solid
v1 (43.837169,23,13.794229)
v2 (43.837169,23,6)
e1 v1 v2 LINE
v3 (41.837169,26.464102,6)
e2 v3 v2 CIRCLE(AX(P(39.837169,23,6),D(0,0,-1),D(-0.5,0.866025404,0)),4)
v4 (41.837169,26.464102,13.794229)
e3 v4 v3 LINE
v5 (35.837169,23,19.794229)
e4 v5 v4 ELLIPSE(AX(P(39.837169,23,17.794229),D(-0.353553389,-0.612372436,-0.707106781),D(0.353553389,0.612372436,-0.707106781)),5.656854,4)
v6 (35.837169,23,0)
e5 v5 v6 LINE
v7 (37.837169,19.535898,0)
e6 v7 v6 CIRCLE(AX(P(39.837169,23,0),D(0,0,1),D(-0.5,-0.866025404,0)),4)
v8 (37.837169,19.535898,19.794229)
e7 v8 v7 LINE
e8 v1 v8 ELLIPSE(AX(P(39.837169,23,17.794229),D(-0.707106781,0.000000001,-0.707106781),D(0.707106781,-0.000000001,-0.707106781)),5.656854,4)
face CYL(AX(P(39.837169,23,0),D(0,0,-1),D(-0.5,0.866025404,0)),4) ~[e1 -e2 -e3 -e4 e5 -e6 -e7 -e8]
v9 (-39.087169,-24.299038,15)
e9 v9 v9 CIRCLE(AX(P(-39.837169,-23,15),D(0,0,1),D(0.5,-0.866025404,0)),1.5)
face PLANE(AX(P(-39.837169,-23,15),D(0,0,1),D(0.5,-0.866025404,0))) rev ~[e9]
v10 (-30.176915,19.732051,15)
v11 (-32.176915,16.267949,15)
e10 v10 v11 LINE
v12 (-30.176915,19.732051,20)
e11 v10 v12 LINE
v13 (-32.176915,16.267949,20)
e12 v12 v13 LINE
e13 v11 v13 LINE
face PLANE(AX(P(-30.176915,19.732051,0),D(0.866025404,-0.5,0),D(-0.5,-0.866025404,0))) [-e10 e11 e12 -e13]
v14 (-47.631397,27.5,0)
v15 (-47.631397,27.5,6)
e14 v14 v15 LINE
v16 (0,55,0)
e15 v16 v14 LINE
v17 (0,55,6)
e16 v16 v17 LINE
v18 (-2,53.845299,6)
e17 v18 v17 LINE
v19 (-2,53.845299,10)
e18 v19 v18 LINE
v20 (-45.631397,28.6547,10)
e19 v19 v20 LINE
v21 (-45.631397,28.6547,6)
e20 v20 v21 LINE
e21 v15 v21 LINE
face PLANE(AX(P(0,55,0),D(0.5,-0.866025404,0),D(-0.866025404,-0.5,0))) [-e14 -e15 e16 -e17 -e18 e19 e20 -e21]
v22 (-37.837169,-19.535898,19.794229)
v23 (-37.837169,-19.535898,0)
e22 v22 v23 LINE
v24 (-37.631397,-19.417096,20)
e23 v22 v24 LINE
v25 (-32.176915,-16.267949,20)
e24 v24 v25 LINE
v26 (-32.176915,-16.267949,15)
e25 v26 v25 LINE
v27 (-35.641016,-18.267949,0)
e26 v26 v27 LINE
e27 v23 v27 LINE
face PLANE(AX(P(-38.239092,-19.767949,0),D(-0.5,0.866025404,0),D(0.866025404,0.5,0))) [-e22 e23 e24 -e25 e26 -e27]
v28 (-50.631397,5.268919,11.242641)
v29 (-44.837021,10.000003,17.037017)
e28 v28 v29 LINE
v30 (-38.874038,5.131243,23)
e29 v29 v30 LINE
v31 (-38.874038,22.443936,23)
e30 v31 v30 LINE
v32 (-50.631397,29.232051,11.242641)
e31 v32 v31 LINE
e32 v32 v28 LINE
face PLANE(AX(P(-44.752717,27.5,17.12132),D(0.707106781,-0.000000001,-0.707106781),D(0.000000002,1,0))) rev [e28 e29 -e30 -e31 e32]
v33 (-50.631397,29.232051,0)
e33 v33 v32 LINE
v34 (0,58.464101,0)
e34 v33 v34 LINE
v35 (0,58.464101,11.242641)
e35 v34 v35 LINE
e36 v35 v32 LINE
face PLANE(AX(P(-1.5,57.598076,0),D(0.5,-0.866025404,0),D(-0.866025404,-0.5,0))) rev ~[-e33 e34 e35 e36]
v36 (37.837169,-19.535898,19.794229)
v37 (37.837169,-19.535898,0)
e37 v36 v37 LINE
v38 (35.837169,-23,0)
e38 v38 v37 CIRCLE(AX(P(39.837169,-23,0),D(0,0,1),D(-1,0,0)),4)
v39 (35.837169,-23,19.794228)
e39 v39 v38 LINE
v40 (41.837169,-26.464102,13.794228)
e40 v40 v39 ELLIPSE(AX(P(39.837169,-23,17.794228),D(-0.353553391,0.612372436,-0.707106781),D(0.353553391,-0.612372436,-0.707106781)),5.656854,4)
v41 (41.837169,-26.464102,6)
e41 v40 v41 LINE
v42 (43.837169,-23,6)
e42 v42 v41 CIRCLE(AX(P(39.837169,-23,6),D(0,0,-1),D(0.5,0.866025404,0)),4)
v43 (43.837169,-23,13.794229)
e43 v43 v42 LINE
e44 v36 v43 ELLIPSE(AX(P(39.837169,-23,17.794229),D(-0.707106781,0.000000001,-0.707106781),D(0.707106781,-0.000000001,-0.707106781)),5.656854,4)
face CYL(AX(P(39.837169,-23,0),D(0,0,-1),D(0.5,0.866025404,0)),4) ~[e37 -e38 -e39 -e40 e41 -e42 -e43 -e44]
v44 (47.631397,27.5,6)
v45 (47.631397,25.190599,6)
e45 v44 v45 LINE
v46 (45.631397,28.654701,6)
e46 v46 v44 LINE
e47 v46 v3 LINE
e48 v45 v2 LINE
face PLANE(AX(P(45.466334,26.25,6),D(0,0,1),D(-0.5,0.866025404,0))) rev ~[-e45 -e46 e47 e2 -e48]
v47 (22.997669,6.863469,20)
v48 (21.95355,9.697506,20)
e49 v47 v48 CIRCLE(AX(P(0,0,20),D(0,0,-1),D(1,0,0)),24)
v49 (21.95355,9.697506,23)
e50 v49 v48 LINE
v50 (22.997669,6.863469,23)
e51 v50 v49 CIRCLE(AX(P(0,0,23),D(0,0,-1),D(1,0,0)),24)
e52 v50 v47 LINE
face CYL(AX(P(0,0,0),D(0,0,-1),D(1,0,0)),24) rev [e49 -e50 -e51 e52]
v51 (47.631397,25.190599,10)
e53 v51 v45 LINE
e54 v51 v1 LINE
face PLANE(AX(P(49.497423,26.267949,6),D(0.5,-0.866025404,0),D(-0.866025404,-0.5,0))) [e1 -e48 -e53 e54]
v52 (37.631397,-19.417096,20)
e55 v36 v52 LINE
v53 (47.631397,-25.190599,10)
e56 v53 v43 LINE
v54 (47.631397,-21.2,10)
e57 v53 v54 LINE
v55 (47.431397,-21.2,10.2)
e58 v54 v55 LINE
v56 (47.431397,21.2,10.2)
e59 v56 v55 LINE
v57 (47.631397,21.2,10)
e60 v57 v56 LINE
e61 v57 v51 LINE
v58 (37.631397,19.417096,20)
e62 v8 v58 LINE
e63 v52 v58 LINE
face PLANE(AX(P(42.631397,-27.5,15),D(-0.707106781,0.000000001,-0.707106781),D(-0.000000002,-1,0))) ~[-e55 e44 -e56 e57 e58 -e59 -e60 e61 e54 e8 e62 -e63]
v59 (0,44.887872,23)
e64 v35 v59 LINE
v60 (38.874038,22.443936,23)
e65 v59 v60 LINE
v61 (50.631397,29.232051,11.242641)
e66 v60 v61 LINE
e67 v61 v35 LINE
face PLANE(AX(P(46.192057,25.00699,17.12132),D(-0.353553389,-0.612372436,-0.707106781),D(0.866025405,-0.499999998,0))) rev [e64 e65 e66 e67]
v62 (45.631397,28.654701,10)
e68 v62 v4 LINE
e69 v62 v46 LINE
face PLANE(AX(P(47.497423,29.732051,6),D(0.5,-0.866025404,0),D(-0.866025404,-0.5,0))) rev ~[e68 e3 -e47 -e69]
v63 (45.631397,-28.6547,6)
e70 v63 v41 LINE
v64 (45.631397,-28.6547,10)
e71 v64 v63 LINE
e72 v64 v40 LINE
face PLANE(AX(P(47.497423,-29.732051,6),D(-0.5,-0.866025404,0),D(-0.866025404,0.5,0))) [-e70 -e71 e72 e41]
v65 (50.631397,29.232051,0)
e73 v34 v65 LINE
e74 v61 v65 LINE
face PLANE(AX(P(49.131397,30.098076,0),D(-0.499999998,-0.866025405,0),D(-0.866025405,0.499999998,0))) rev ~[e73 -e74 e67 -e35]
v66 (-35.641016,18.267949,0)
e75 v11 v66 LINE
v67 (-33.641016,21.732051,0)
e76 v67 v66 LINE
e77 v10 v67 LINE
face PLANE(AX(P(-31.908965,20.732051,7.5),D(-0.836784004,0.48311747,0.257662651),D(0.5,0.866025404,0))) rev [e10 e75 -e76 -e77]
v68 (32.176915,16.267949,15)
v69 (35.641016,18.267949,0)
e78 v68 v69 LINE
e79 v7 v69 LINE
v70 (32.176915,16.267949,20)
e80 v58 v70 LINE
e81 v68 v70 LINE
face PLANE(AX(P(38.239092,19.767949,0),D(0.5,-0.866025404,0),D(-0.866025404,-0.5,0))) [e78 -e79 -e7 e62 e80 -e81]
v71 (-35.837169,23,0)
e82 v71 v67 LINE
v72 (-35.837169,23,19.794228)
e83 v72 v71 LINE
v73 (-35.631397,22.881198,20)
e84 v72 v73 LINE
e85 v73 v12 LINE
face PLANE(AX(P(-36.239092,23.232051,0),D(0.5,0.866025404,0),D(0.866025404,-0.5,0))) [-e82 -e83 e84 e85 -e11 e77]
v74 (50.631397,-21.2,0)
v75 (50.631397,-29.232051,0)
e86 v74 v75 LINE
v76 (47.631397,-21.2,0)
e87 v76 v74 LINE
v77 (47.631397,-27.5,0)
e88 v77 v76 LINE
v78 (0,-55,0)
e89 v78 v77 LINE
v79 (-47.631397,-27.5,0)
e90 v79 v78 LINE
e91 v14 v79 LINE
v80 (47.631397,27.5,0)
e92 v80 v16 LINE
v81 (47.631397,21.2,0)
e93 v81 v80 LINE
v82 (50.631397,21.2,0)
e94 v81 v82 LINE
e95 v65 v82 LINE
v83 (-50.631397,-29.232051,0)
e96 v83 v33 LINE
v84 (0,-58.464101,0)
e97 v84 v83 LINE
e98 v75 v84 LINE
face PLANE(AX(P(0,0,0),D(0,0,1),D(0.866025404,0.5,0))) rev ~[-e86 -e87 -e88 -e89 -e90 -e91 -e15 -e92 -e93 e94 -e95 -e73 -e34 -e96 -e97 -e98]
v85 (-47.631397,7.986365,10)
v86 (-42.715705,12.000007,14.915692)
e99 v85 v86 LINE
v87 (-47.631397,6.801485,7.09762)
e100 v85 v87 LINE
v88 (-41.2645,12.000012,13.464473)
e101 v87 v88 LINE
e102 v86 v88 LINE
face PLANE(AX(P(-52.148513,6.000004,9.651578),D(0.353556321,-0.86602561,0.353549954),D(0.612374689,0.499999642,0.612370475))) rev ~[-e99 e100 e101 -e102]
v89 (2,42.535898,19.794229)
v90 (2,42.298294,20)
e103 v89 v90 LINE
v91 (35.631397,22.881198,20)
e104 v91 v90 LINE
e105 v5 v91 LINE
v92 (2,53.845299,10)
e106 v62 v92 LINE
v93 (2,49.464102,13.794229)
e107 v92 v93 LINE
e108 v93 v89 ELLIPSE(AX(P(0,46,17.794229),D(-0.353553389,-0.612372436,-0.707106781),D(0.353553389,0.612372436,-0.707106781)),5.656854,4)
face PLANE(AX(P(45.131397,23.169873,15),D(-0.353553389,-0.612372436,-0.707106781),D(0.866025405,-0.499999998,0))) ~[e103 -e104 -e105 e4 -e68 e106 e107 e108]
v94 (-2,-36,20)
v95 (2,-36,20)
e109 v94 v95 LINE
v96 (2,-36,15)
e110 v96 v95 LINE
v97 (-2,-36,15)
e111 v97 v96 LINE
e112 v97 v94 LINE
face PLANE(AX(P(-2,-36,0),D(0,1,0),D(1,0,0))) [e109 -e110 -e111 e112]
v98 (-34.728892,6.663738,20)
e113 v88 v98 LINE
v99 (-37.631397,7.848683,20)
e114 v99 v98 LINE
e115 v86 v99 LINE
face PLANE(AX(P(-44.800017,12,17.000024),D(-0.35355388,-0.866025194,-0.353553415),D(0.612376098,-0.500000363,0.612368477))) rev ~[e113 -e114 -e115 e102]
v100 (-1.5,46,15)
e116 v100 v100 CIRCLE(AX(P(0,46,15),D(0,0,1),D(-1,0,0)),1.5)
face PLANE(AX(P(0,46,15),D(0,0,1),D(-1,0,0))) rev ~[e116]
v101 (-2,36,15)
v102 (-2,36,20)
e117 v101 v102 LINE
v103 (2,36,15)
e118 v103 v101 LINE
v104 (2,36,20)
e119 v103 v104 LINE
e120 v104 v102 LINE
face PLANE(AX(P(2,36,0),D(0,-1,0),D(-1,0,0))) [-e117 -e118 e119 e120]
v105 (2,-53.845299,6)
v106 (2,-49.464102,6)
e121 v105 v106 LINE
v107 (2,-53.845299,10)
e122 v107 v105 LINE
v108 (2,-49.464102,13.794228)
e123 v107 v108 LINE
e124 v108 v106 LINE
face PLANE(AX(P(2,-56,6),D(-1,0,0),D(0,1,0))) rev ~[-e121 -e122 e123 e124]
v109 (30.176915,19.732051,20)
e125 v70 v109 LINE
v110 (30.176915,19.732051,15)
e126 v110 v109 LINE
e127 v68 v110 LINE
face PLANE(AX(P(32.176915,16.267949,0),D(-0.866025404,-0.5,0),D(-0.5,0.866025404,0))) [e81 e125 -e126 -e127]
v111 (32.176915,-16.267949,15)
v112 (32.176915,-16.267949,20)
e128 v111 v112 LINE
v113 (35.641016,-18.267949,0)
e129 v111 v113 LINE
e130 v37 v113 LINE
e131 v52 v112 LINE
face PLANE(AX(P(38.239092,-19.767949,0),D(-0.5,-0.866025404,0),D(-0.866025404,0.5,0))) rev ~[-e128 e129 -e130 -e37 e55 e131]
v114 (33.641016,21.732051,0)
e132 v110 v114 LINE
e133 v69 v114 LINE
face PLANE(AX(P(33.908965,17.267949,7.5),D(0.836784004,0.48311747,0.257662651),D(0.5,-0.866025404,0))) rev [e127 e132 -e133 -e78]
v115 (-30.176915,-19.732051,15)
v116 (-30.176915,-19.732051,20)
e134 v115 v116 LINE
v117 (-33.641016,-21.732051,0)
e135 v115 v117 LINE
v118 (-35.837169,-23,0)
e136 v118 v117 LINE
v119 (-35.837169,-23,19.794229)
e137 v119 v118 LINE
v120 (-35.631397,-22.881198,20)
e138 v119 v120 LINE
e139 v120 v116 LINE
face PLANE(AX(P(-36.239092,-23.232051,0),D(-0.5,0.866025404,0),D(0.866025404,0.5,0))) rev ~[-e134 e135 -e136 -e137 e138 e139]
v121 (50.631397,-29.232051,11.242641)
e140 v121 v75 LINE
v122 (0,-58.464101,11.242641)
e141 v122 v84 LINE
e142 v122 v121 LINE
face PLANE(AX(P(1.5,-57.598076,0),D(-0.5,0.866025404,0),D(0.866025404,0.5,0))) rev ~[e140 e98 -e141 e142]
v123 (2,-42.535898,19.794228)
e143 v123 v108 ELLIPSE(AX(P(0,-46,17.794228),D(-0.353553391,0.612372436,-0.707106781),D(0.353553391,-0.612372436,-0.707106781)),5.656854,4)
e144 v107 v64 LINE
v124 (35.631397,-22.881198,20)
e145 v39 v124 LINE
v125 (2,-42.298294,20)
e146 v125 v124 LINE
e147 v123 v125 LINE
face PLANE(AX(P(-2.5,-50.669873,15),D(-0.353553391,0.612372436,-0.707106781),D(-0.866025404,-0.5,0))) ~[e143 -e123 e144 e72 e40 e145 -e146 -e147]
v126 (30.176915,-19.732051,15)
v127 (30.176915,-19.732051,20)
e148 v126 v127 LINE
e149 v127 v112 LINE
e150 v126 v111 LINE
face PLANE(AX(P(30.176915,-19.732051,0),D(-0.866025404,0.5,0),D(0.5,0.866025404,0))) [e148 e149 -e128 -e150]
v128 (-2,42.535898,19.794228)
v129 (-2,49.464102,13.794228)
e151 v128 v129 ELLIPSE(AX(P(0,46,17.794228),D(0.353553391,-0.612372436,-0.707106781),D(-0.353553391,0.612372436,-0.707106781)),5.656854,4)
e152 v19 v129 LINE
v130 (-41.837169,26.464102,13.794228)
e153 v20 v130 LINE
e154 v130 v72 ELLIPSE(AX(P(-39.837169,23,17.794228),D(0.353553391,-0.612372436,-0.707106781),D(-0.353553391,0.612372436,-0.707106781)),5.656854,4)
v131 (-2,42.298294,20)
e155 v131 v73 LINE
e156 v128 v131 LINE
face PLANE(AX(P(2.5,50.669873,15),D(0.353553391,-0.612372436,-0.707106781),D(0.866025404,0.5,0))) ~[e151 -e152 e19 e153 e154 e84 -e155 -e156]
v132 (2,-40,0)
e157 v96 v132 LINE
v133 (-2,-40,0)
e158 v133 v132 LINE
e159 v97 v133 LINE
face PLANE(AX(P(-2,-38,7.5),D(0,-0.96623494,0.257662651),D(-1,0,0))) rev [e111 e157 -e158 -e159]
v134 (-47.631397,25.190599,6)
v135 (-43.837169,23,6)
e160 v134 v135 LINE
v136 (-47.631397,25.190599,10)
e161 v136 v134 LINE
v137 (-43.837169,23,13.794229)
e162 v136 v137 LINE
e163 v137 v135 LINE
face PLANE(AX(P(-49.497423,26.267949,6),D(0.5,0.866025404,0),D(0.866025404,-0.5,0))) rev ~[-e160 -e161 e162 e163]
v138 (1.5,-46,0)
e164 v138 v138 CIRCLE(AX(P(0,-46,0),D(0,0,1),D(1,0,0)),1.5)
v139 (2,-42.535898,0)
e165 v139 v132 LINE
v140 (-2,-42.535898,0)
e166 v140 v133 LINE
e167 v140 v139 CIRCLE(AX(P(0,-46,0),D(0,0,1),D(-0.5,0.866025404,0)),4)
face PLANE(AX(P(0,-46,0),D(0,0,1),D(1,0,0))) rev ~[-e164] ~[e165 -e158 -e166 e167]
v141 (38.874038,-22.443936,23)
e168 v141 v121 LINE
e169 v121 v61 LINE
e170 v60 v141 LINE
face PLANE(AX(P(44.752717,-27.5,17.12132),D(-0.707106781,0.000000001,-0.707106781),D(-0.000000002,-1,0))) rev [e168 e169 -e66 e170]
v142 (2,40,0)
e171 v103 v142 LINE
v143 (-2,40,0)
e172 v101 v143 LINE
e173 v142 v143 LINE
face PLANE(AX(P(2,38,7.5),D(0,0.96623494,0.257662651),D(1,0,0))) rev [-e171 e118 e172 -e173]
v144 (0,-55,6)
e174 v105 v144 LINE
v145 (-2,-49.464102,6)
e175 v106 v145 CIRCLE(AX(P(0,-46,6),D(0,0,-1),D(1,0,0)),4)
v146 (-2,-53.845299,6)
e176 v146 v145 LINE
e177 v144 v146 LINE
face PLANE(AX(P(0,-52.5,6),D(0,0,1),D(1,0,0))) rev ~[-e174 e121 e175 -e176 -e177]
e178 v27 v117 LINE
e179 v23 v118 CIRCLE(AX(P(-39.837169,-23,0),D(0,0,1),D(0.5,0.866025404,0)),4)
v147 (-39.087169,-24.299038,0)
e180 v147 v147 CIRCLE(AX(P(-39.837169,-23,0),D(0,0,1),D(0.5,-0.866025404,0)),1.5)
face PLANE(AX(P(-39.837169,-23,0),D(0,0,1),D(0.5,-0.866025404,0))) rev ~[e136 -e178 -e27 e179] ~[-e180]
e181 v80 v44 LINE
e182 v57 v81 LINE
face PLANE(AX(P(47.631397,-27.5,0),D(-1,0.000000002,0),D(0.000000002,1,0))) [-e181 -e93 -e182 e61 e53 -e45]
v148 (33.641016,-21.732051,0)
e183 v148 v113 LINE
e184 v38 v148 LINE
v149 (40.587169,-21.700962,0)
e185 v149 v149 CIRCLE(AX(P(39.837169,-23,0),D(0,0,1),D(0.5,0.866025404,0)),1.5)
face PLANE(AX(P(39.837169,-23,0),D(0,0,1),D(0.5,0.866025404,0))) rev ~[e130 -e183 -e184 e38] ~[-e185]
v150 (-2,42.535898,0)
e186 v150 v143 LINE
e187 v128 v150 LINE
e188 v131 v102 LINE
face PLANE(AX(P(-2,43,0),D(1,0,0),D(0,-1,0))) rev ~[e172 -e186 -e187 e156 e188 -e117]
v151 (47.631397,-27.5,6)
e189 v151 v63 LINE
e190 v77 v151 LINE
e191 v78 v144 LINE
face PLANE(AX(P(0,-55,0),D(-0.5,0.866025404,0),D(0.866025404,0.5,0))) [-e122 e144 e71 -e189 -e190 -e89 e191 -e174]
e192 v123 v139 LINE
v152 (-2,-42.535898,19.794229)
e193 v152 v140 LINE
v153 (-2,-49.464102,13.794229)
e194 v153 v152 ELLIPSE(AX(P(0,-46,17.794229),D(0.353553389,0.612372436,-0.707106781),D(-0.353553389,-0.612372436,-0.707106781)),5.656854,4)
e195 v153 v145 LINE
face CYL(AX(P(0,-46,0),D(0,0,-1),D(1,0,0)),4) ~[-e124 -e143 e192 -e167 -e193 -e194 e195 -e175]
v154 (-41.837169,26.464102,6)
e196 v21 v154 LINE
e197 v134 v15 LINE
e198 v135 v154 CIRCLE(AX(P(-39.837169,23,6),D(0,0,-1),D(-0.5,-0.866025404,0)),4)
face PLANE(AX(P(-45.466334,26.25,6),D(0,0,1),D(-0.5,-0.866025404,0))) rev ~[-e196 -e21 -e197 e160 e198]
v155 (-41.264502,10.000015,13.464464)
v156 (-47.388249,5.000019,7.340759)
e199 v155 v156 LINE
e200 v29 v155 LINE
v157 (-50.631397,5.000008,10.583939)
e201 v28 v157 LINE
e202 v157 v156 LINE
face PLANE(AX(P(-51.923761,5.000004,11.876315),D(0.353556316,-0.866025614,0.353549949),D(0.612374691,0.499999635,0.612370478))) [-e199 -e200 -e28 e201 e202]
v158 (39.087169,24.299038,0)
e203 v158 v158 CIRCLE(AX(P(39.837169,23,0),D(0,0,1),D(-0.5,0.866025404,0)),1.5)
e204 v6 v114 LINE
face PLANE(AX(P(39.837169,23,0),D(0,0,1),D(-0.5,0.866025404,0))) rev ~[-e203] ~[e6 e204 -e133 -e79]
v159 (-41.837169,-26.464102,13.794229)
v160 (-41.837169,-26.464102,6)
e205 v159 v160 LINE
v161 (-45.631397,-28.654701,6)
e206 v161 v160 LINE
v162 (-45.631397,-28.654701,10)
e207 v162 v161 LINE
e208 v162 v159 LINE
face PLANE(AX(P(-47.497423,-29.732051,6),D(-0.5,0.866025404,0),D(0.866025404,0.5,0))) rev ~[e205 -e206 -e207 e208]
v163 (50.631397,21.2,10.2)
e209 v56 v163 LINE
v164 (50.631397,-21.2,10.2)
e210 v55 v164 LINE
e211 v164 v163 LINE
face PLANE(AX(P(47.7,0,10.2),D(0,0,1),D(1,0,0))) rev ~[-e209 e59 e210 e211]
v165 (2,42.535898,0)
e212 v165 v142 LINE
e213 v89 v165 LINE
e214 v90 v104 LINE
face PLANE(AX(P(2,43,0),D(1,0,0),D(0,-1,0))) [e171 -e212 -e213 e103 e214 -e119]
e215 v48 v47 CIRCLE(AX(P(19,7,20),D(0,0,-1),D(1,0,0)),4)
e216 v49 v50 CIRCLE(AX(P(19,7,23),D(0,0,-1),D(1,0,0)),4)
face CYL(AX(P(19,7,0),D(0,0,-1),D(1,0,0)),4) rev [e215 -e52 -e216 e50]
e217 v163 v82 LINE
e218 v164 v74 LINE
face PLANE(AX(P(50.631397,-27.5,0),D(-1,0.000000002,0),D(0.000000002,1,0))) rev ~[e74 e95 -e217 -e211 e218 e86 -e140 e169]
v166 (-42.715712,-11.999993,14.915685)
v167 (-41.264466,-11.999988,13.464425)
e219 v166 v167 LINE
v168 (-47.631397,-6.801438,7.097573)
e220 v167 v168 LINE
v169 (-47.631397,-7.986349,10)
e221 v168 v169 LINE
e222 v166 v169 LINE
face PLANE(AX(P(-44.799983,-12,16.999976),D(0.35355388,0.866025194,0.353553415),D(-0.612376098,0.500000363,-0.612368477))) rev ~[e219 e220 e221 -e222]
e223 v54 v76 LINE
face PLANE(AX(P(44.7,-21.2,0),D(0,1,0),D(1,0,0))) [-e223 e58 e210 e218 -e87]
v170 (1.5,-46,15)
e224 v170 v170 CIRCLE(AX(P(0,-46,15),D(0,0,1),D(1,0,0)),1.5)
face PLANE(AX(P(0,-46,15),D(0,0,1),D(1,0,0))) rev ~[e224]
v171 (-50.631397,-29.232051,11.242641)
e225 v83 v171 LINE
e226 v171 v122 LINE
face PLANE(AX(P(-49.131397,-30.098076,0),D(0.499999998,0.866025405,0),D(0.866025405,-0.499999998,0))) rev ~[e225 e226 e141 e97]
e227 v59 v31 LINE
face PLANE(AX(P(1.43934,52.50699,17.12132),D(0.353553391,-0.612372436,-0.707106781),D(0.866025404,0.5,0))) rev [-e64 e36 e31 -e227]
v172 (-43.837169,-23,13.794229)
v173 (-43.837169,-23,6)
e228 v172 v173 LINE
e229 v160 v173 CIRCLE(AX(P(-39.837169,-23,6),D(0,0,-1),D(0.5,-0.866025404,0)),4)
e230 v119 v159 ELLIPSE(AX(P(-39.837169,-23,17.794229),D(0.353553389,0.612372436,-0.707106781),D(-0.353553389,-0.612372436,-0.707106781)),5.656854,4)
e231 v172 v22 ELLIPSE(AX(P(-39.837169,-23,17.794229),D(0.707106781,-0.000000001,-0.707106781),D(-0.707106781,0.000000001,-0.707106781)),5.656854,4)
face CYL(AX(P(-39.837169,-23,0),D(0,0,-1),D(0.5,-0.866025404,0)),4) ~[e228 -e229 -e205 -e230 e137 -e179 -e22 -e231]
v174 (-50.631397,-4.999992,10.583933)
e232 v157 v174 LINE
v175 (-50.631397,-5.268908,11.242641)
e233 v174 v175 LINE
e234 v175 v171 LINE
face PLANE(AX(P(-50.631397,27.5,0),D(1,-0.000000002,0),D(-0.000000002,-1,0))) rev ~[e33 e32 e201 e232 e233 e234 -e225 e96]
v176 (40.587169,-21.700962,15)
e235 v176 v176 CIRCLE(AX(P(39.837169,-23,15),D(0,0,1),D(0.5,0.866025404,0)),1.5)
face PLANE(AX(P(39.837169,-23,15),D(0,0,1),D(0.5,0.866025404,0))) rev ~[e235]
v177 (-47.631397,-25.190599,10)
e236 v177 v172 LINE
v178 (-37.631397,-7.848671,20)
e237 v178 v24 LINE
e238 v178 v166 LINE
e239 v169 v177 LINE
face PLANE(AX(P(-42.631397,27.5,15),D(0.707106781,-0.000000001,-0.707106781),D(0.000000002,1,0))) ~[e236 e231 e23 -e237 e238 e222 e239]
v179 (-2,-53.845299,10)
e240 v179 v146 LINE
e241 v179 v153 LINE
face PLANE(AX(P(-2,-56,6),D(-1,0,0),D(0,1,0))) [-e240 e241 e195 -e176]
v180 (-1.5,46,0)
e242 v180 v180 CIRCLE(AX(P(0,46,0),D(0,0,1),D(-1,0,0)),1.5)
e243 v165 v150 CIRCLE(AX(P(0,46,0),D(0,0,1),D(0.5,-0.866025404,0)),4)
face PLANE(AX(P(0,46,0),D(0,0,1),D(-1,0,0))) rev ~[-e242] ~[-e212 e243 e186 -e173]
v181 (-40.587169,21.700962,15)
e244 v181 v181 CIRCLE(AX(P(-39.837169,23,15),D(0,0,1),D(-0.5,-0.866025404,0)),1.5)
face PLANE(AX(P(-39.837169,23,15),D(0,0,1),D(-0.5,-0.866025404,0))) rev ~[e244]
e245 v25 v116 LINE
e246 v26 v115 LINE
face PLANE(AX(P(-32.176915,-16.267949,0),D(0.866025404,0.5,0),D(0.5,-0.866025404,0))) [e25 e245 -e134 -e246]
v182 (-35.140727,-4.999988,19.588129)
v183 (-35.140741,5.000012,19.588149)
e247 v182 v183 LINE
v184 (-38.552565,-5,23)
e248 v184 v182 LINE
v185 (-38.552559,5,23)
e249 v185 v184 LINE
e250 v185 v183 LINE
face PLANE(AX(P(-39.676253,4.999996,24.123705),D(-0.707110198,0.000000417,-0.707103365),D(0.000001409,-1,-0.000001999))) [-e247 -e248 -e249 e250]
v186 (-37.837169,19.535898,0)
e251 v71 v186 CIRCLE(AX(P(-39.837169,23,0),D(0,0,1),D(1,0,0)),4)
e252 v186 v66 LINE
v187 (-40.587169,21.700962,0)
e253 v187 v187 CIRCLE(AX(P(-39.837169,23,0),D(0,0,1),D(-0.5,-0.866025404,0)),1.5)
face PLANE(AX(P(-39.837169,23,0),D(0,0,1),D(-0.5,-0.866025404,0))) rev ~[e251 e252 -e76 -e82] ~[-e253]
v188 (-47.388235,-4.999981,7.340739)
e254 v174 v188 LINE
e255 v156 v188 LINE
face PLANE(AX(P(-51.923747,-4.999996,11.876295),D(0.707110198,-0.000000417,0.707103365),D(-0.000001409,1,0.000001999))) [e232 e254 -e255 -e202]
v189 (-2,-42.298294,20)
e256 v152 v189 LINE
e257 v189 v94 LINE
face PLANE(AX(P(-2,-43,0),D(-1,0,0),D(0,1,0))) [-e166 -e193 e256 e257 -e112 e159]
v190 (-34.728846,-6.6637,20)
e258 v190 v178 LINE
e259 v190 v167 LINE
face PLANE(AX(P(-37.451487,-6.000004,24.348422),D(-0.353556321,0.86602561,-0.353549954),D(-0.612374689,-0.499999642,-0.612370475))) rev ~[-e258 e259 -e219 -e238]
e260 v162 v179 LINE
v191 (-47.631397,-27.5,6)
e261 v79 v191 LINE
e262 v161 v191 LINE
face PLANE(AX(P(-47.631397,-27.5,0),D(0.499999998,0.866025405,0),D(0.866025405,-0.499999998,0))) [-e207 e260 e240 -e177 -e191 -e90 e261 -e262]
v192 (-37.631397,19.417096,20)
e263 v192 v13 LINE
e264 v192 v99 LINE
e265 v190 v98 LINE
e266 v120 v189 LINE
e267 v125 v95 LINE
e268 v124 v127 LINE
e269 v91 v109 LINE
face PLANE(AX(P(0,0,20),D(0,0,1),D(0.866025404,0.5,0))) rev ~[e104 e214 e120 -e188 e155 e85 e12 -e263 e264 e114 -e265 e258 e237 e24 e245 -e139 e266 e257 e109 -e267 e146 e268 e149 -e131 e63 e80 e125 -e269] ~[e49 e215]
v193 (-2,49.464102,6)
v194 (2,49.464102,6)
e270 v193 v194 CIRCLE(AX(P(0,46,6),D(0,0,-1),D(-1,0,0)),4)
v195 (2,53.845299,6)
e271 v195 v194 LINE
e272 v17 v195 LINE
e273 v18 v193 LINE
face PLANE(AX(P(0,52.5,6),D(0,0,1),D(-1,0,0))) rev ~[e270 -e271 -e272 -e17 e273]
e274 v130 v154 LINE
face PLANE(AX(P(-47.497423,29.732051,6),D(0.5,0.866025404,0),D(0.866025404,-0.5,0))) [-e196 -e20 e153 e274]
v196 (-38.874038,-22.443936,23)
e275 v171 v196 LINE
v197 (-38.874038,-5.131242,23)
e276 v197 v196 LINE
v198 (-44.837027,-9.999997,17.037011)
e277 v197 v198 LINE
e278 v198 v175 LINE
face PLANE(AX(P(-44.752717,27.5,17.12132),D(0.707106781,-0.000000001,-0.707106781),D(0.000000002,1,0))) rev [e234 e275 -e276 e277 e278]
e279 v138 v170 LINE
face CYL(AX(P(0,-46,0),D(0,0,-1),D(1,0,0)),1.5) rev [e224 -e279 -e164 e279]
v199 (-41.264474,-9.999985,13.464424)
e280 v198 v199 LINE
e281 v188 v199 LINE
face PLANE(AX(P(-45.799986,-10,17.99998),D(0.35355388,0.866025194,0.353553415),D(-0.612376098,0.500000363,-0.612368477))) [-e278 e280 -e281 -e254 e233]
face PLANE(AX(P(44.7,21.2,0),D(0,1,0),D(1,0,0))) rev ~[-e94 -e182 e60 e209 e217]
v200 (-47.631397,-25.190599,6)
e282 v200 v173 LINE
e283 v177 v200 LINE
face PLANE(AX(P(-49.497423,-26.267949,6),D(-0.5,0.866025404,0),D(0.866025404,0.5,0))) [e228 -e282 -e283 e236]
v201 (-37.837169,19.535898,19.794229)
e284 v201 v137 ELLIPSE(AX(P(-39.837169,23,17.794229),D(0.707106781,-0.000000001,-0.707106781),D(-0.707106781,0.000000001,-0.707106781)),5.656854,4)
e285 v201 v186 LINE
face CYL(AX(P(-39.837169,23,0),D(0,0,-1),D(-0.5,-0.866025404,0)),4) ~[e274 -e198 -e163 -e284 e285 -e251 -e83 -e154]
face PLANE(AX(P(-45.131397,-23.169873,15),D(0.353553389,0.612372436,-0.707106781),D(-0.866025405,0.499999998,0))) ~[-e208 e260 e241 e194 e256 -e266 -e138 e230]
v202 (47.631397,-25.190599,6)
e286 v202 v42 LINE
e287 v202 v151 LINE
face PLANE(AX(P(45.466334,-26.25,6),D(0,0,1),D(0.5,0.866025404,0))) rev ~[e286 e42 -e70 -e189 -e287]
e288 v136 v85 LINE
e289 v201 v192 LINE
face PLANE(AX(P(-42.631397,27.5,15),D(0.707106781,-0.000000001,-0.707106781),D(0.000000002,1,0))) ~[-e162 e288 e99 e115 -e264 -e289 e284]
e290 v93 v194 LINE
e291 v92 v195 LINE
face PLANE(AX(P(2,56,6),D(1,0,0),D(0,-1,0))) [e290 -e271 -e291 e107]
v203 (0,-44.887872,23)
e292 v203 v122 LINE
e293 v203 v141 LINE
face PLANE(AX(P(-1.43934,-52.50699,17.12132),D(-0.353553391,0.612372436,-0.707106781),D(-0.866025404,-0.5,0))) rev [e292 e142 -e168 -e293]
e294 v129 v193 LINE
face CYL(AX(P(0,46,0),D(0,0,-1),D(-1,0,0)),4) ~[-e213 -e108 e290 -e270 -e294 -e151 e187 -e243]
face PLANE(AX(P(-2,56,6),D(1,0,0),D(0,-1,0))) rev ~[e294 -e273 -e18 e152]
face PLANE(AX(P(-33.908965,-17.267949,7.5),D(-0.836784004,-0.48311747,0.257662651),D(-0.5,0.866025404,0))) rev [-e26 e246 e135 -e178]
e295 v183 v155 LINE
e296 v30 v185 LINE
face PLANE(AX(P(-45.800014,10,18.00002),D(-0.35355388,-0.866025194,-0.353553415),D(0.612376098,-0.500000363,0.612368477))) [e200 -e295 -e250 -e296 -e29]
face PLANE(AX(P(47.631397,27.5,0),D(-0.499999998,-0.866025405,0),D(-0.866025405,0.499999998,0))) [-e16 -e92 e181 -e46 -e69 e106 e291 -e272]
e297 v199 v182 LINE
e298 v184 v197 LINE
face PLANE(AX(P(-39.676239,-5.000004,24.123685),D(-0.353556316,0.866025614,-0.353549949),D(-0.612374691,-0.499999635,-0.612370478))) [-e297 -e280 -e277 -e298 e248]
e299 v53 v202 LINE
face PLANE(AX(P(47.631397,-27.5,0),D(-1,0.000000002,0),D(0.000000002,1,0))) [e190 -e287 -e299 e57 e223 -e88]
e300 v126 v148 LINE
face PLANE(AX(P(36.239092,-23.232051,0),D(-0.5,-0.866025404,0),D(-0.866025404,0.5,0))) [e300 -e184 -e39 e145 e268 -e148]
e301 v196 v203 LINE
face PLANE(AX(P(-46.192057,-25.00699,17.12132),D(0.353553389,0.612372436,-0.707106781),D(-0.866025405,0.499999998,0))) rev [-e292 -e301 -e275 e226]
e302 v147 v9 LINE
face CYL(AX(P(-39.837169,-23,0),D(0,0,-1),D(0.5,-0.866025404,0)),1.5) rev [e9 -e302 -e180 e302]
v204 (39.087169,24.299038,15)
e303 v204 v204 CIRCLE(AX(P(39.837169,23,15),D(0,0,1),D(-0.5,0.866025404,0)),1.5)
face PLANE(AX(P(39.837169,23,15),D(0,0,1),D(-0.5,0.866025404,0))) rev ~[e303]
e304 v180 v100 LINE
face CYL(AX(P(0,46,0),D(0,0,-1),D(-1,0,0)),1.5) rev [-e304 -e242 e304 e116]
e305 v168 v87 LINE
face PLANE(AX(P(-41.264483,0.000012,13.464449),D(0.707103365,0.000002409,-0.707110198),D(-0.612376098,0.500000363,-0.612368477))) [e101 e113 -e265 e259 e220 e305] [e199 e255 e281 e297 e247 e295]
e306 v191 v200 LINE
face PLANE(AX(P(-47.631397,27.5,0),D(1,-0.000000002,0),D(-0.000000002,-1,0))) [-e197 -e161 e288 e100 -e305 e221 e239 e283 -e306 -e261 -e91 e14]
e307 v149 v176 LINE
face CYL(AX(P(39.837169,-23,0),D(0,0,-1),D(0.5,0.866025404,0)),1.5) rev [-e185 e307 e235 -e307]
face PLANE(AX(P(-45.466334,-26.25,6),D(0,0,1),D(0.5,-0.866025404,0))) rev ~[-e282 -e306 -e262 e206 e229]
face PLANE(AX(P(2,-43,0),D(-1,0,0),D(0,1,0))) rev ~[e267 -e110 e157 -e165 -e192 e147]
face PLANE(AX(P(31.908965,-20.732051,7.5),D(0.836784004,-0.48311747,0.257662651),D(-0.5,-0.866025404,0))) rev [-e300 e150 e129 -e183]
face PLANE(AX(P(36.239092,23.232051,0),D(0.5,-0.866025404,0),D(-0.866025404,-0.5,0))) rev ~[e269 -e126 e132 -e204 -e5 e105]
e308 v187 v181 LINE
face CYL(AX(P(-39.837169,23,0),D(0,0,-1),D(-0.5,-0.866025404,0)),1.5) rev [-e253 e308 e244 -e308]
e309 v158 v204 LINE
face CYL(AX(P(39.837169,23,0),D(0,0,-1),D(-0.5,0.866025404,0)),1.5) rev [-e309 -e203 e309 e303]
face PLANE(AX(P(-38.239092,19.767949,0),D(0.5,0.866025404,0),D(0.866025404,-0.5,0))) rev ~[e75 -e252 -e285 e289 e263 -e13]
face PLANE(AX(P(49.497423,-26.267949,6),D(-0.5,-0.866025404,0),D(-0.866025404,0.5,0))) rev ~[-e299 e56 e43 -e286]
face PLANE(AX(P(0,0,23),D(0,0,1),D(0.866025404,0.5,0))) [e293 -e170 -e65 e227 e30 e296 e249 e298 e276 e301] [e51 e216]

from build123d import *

# Parameters (mm, degrees)
PRISM005_DEPTH           = 23
PRISM005_ROLL_ANGLE      = 153.435058
PRISM005_PITCH_ANGLE     = 37.760957
PRISM005_PLACEMENT_ANGLE = 140.768627
PRISM006_DEPTH           = 5
PRISM006_ROLL_ANGLE      = 153.435058
PRISM006_PITCH_ANGLE     = 37.760957
PRISM006_PLACEMENT_ANGLE = 140.768627
CHAMFER005_SIZE          = 4
BOX013_W                 = 6
BOX013_H                 = 42.4
BOX013_DEPTH             = 10.2
CYLINDER004_R            = 2
CYLINDER004_DEPTH        = 42
CYLINDER004_ROLL_ANGLE   = 90
PAD004_DEPTH             = 37
BODY004_PITCH_ANGLE      = -45
CYLINDER001_R            = 4
CYLINDER001_DEPTH        = 44
CYLINDER002_R            = 24
CYLINDER002_DEPTH        = 44
PAD003_DEPTH             = 5.62
PRISM_DEPTH              = 20
PRISM_PLACEMENT_ANGLE    = 30
CHAMFER001_SIZE          = 10
THICKNESS_T              = 3
CYLINDER047_R            = 1.5
CYLINDER047_DEPTH        = 15
BOX030_W                 = 4
BOX030_H                 = 7
BOX030_DEPTH             = 22
CHAMFER003_SIZE2         = 4
CHAMFER003_SIZE          = 15
BOX029_W                 = 12
BOX029_H                 = 10
BOX029_DEPTH             = 14
BOX029_ROLL_ANGLE        = -45
CYLINDER046_R            = 4
CYLINDER046_DEPTH        = 21
BOX031_W                 = 4
BOX031_H                 = 7
BOX031_DEPTH             = 10
CHAMFER004_SIZE          = 5
ARRAY001_COUNT           = 6


with BuildPart() as agujero_hexagonal_boton:
    # Prism005 → Prism005 (new body)
    with BuildSketch(Plane.XY):
        Polygon((10, 0), (5, 8.660254), (-5, 8.660254), (-10, 0), (-5, -8.660254), (5, -8.660254), align=None)
    extrude(amount=PRISM005_DEPTH)


with BuildPart() as agujero_hexagonal_boton_1:
    # Prism005 roll: moved
    add(agujero_hexagonal_boton.part.rotate(Axis((0, 0, 0), (1, 0, 0)), PRISM005_ROLL_ANGLE))


with BuildPart() as agujero_hexagonal_boton_2:
    # Prism005 pitch: moved
    add(agujero_hexagonal_boton_1.part.rotate(Axis((0, 0, 0), (0, 1, 0)), PRISM005_PITCH_ANGLE))


with BuildPart() as agujero_hexagonal_boton_3:
    # Prism005 placement: moved
    add(agujero_hexagonal_boton_2.part.moved(Location((-45.8, 0, 18))).rotate(Axis((-45.8, 0, 18), (0, 0, 1)), PRISM005_PLACEMENT_ANGLE))


with BuildPart() as borde_hexagonal_agujero:
    # Prism006 → Prism006 (new body)
    with BuildSketch(Plane.XY):
        Polygon((12, 0), (6, 10.392305), (-6, 10.392305), (-12, 0), (-6, -10.392305), (6, -10.392305), align=None)
    extrude(amount=PRISM006_DEPTH)


with BuildPart() as borde_hexagonal_agujero_1:
    # Prism006 roll: moved
    add(borde_hexagonal_agujero.part.rotate(Axis((0, 0, 0), (1, 0, 0)), PRISM006_ROLL_ANGLE))


with BuildPart() as borde_hexagonal_agujero_2:
    # Prism006 pitch: moved
    add(borde_hexagonal_agujero_1.part.rotate(Axis((0, 0, 0), (0, 1, 0)), PRISM006_PITCH_ANGLE))


with BuildPart() as borde_hexagonal_agujero_3:
    # Prism006 placement: moved
    add(borde_hexagonal_agujero_2.part.moved(Location((-44.8, 0, 17))).rotate(Axis((-44.8, 0, 17), (0, 0, 1)), PRISM006_PLACEMENT_ANGLE))

    # Chamfer005
    chamfer005_edges = [borde_hexagonal_agujero_3.edges().sort_by_distance(p)[0] for p in [
        (-37.451495, -4e-06, 24.348434),
        (-52.148505, 4e-06, 9.651566),
    ]]
    chamfer(chamfer005_edges, length=CHAMFER005_SIZE)


with BuildPart() as cubo010:
    # Box013 → Box013 (new body)
    with BuildSketch(Plane(origin=(44.7, -21.2, 0), x_dir=(1, 0, 0), z_dir=(0, 0, 1))):
        with Locations((3, 21.2)):
            Rectangle(BOX013_W, BOX013_H)
    extrude(amount=BOX013_DEPTH)


with BuildPart() as bisagra_eliminado:
    # Cylinder004 → Cylinder004 (new body)
    with BuildSketch(Plane.XY):
        Circle(CYLINDER004_R)
    extrude(amount=CYLINDER004_DEPTH)


with BuildPart() as bisagra_eliminado_1:
    # Cylinder004 roll: moved
    add(bisagra_eliminado.part.rotate(Axis((0, 0, 0), (1, 0, 0)), CYLINDER004_ROLL_ANGLE))


with BuildPart() as bisagra_eliminado_2:
    # Cylinder004 placement: moved
    add(bisagra_eliminado_1.part.moved(Location((-39, 21, 33))))


with BuildPart() as recorte_boton_viejo_eliminado:
    # Sketch004 → Pad004 (new body)
    with BuildSketch(Plane.XY):
        Polygon((-40.876069, 10), (-49.536323, 5), (-49.536323, -5), (-40.876069, -10), (-32.215815, -5), (-32.215815, 5), align=None)
    extrude(amount=PAD004_DEPTH)


with BuildPart() as recorte_boton_viejo_eliminado_1:
    # Body004 pitch: moved
    add(recorte_boton_viejo_eliminado.part.rotate(Axis((0, 0, 0), (0, 1, 0)), BODY004_PITCH_ANGLE))


with BuildPart() as recorte_boton_viejo_eliminado_2:
    # Body004 placement: moved
    add(recorte_boton_viejo_eliminado_1.part.moved(Location((0, 0, 103))))


with BuildPart() as agujero_led_builtin:
    # Cylinder001 → Cylinder001 (new body)
    with BuildSketch(Plane(origin=(19, 7, 0), x_dir=(1, 0, 0), z_dir=(0, 0, 1))):
        Circle(CYLINDER001_R)
    extrude(amount=CYLINDER001_DEPTH)


with BuildPart() as fusion002:
    # Cylinder002 → Cylinder002 (new body)
    with BuildSketch(Plane.XY):
        Circle(CYLINDER002_R)
    extrude(amount=CYLINDER002_DEPTH)

    # Fusion002: union agujero led builtin
    add(agujero_led_builtin.part)


with BuildPart() as agujero_microusb:
    # Sketch003 → Pad003 (new body)
    with BuildSketch(Plane.YZ):
        Polygon((-3, 0.536587), (3, 0.536587), (4.5, -3.263413), (-4.5, -3.263413), align=None)
    extrude(amount=PAD003_DEPTH)


with BuildPart() as agujero_microusb_1:
    # Body003 placement: moved
    add(agujero_microusb.part.moved(Location((45.85, 0, 5))))


with BuildPart() as tapa_superior_con_agujero_hexagonal:
    # Prism → Prism (new body)
    with BuildSketch(Plane.XY):
        Polygon((55, 0), (27.5, 47.631397), (-27.5, 47.631397), (-55, 0), (-27.5, -47.631397), (27.5, -47.631397), align=None)
    extrude(amount=PRISM_DEPTH)


with BuildPart() as tapa_superior_con_agujero_hexagonal_1:
    # Prism placement: moved
    add(tapa_superior_con_agujero_hexagonal.part.rotate(Axis((0, 0, 0), (0, 0, 1)), PRISM_PLACEMENT_ANGLE))

    # Chamfer001
    chamfer001_edges = [tapa_superior_con_agujero_hexagonal_1.edges().sort_by_distance(p)[0] for p in [
        (23.815699, 41.25, 20),
        (-23.815699, 41.25, 20),
        (-47.631397, 0, 20),
        (-23.815699, -41.25, 20),
        (23.815699, -41.25, 20),
        (47.631397, 0, 20),
    ]]
    chamfer(chamfer001_edges, length=CHAMFER001_SIZE)

    # Thickness
    thickness_openings = [tapa_superior_con_agujero_hexagonal_1.faces().sort_by_distance(p)[0] for p in [
        (0, 0, 0),
    ]]
    offset(amount=THICKNESS_T, openings=thickness_openings, kind=Kind.INTERSECTION)

    # Cut001: cut agujero microusb
    add(agujero_microusb_1.part, mode=Mode.SUBTRACT)

    # Cut002: cut Fusion002
    add(fusion002.part, mode=Mode.SUBTRACT)

    # Cut004: cut recorte boton viejo (eliminado)
    add(recorte_boton_viejo_eliminado_2.part, mode=Mode.SUBTRACT)

    # Cut005: cut bisagra (eliminado)
    add(bisagra_eliminado_2.part, mode=Mode.SUBTRACT)

    # Cut009: cut Cubo010
    add(cubo010.part, mode=Mode.SUBTRACT)

    # Fusion011: union borde hexagonal agujero
    add(borde_hexagonal_agujero_3.part)

    # Cut016: cut agujero hexagonal boton
    add(agujero_hexagonal_boton_3.part, mode=Mode.SUBTRACT)


with BuildPart() as cilindro023:
    # Cylinder047 → Cylinder047 (new body)
    with BuildSketch(Plane(origin=(0, -46, 0), x_dir=(1, 0, 0), z_dir=(0, 0, 1))):
        Circle(CYLINDER047_R)
    extrude(amount=CYLINDER047_DEPTH)


with BuildPart() as chamfer003:
    # Box030 → Box030 (new body)
    with BuildSketch(Plane(origin=(-2, -43, 0), x_dir=(1, 0, 0), z_dir=(0, 0, 1))):
        with Locations((2, 3.5)):
            Rectangle(BOX030_W, BOX030_H)
    extrude(amount=BOX030_DEPTH)

    # Chamfer003
    chamfer003_edges = [chamfer003.edges().sort_by_distance(p)[0] for p in [
        (0, -36, 0),
    ]]
    chamfer003_side = chamfer003.faces().sort_by_distance((0, -36, 11))[0]
    chamfer(chamfer003_edges, length=CHAMFER003_SIZE, length2=CHAMFER003_SIZE2, reference=chamfer003_side)


with BuildPart() as cubo025:
    # Box029 → Box029 (new body)
    with BuildSketch(Plane.XY):
        with Locations((6, 5)):
            Rectangle(BOX029_W, BOX029_H)
    extrude(amount=BOX029_DEPTH)


with BuildPart() as cubo025_1:
    # Box029 roll: moved
    add(cubo025.part.rotate(Axis((0, 0, 0), (1, 0, 0)), BOX029_ROLL_ANGLE))


with BuildPart() as cubo025_2:
    # Box029 placement: moved
    add(cubo025_1.part.moved(Location((-7, -59, 20))))


with BuildPart() as cut014:
    # Cylinder046 → Cylinder046 (new body)
    with BuildSketch(Plane(origin=(0, -46, 0), x_dir=(1, 0, 0), z_dir=(0, 0, 1))):
        Circle(CYLINDER046_R)
    extrude(amount=CYLINDER046_DEPTH)

    # Cut014: cut Cubo025
    add(cubo025_2.part, mode=Mode.SUBTRACT)


with BuildPart() as tapa_superior:
    # Box031 → Box031 (new body)
    with BuildSketch(Plane(origin=(-2, -56, 6), x_dir=(1, 0, 0), z_dir=(0, 0, 1))):
        with Locations((2, 3.5)):
            Rectangle(BOX031_W, BOX031_H)
    extrude(amount=BOX031_DEPTH)

    # Chamfer004
    chamfer004_edges = [tapa_superior.edges().sort_by_distance(p)[0] for p in [
        (0, -56, 16),
    ]]
    chamfer(chamfer004_edges, length=CHAMFER004_SIZE)

    # Fusion010: union Chamfer003, Cut014
    add(chamfer003.part)
    add(cut014.part)

    # Cut015: cut Cilindro023
    add(cilindro023.part, mode=Mode.SUBTRACT)

    # Array001: tapa superior ×6 about axis
    array001_axis = Axis((0, 0, 0), (0, 0, 1))


with BuildPart() as tapa_superior_1:
    add(tapa_superior.part)
    for i in range(1, ARRAY001_COUNT):
        add(tapa_superior.part.rotate(array001_axis, i * 360 / ARRAY001_COUNT))

    # Fusion012: union tapa superior con agujero hexagonal
    add(tapa_superior_con_agujero_hexagonal_1.part)


solid = tapa_superior_1.part
